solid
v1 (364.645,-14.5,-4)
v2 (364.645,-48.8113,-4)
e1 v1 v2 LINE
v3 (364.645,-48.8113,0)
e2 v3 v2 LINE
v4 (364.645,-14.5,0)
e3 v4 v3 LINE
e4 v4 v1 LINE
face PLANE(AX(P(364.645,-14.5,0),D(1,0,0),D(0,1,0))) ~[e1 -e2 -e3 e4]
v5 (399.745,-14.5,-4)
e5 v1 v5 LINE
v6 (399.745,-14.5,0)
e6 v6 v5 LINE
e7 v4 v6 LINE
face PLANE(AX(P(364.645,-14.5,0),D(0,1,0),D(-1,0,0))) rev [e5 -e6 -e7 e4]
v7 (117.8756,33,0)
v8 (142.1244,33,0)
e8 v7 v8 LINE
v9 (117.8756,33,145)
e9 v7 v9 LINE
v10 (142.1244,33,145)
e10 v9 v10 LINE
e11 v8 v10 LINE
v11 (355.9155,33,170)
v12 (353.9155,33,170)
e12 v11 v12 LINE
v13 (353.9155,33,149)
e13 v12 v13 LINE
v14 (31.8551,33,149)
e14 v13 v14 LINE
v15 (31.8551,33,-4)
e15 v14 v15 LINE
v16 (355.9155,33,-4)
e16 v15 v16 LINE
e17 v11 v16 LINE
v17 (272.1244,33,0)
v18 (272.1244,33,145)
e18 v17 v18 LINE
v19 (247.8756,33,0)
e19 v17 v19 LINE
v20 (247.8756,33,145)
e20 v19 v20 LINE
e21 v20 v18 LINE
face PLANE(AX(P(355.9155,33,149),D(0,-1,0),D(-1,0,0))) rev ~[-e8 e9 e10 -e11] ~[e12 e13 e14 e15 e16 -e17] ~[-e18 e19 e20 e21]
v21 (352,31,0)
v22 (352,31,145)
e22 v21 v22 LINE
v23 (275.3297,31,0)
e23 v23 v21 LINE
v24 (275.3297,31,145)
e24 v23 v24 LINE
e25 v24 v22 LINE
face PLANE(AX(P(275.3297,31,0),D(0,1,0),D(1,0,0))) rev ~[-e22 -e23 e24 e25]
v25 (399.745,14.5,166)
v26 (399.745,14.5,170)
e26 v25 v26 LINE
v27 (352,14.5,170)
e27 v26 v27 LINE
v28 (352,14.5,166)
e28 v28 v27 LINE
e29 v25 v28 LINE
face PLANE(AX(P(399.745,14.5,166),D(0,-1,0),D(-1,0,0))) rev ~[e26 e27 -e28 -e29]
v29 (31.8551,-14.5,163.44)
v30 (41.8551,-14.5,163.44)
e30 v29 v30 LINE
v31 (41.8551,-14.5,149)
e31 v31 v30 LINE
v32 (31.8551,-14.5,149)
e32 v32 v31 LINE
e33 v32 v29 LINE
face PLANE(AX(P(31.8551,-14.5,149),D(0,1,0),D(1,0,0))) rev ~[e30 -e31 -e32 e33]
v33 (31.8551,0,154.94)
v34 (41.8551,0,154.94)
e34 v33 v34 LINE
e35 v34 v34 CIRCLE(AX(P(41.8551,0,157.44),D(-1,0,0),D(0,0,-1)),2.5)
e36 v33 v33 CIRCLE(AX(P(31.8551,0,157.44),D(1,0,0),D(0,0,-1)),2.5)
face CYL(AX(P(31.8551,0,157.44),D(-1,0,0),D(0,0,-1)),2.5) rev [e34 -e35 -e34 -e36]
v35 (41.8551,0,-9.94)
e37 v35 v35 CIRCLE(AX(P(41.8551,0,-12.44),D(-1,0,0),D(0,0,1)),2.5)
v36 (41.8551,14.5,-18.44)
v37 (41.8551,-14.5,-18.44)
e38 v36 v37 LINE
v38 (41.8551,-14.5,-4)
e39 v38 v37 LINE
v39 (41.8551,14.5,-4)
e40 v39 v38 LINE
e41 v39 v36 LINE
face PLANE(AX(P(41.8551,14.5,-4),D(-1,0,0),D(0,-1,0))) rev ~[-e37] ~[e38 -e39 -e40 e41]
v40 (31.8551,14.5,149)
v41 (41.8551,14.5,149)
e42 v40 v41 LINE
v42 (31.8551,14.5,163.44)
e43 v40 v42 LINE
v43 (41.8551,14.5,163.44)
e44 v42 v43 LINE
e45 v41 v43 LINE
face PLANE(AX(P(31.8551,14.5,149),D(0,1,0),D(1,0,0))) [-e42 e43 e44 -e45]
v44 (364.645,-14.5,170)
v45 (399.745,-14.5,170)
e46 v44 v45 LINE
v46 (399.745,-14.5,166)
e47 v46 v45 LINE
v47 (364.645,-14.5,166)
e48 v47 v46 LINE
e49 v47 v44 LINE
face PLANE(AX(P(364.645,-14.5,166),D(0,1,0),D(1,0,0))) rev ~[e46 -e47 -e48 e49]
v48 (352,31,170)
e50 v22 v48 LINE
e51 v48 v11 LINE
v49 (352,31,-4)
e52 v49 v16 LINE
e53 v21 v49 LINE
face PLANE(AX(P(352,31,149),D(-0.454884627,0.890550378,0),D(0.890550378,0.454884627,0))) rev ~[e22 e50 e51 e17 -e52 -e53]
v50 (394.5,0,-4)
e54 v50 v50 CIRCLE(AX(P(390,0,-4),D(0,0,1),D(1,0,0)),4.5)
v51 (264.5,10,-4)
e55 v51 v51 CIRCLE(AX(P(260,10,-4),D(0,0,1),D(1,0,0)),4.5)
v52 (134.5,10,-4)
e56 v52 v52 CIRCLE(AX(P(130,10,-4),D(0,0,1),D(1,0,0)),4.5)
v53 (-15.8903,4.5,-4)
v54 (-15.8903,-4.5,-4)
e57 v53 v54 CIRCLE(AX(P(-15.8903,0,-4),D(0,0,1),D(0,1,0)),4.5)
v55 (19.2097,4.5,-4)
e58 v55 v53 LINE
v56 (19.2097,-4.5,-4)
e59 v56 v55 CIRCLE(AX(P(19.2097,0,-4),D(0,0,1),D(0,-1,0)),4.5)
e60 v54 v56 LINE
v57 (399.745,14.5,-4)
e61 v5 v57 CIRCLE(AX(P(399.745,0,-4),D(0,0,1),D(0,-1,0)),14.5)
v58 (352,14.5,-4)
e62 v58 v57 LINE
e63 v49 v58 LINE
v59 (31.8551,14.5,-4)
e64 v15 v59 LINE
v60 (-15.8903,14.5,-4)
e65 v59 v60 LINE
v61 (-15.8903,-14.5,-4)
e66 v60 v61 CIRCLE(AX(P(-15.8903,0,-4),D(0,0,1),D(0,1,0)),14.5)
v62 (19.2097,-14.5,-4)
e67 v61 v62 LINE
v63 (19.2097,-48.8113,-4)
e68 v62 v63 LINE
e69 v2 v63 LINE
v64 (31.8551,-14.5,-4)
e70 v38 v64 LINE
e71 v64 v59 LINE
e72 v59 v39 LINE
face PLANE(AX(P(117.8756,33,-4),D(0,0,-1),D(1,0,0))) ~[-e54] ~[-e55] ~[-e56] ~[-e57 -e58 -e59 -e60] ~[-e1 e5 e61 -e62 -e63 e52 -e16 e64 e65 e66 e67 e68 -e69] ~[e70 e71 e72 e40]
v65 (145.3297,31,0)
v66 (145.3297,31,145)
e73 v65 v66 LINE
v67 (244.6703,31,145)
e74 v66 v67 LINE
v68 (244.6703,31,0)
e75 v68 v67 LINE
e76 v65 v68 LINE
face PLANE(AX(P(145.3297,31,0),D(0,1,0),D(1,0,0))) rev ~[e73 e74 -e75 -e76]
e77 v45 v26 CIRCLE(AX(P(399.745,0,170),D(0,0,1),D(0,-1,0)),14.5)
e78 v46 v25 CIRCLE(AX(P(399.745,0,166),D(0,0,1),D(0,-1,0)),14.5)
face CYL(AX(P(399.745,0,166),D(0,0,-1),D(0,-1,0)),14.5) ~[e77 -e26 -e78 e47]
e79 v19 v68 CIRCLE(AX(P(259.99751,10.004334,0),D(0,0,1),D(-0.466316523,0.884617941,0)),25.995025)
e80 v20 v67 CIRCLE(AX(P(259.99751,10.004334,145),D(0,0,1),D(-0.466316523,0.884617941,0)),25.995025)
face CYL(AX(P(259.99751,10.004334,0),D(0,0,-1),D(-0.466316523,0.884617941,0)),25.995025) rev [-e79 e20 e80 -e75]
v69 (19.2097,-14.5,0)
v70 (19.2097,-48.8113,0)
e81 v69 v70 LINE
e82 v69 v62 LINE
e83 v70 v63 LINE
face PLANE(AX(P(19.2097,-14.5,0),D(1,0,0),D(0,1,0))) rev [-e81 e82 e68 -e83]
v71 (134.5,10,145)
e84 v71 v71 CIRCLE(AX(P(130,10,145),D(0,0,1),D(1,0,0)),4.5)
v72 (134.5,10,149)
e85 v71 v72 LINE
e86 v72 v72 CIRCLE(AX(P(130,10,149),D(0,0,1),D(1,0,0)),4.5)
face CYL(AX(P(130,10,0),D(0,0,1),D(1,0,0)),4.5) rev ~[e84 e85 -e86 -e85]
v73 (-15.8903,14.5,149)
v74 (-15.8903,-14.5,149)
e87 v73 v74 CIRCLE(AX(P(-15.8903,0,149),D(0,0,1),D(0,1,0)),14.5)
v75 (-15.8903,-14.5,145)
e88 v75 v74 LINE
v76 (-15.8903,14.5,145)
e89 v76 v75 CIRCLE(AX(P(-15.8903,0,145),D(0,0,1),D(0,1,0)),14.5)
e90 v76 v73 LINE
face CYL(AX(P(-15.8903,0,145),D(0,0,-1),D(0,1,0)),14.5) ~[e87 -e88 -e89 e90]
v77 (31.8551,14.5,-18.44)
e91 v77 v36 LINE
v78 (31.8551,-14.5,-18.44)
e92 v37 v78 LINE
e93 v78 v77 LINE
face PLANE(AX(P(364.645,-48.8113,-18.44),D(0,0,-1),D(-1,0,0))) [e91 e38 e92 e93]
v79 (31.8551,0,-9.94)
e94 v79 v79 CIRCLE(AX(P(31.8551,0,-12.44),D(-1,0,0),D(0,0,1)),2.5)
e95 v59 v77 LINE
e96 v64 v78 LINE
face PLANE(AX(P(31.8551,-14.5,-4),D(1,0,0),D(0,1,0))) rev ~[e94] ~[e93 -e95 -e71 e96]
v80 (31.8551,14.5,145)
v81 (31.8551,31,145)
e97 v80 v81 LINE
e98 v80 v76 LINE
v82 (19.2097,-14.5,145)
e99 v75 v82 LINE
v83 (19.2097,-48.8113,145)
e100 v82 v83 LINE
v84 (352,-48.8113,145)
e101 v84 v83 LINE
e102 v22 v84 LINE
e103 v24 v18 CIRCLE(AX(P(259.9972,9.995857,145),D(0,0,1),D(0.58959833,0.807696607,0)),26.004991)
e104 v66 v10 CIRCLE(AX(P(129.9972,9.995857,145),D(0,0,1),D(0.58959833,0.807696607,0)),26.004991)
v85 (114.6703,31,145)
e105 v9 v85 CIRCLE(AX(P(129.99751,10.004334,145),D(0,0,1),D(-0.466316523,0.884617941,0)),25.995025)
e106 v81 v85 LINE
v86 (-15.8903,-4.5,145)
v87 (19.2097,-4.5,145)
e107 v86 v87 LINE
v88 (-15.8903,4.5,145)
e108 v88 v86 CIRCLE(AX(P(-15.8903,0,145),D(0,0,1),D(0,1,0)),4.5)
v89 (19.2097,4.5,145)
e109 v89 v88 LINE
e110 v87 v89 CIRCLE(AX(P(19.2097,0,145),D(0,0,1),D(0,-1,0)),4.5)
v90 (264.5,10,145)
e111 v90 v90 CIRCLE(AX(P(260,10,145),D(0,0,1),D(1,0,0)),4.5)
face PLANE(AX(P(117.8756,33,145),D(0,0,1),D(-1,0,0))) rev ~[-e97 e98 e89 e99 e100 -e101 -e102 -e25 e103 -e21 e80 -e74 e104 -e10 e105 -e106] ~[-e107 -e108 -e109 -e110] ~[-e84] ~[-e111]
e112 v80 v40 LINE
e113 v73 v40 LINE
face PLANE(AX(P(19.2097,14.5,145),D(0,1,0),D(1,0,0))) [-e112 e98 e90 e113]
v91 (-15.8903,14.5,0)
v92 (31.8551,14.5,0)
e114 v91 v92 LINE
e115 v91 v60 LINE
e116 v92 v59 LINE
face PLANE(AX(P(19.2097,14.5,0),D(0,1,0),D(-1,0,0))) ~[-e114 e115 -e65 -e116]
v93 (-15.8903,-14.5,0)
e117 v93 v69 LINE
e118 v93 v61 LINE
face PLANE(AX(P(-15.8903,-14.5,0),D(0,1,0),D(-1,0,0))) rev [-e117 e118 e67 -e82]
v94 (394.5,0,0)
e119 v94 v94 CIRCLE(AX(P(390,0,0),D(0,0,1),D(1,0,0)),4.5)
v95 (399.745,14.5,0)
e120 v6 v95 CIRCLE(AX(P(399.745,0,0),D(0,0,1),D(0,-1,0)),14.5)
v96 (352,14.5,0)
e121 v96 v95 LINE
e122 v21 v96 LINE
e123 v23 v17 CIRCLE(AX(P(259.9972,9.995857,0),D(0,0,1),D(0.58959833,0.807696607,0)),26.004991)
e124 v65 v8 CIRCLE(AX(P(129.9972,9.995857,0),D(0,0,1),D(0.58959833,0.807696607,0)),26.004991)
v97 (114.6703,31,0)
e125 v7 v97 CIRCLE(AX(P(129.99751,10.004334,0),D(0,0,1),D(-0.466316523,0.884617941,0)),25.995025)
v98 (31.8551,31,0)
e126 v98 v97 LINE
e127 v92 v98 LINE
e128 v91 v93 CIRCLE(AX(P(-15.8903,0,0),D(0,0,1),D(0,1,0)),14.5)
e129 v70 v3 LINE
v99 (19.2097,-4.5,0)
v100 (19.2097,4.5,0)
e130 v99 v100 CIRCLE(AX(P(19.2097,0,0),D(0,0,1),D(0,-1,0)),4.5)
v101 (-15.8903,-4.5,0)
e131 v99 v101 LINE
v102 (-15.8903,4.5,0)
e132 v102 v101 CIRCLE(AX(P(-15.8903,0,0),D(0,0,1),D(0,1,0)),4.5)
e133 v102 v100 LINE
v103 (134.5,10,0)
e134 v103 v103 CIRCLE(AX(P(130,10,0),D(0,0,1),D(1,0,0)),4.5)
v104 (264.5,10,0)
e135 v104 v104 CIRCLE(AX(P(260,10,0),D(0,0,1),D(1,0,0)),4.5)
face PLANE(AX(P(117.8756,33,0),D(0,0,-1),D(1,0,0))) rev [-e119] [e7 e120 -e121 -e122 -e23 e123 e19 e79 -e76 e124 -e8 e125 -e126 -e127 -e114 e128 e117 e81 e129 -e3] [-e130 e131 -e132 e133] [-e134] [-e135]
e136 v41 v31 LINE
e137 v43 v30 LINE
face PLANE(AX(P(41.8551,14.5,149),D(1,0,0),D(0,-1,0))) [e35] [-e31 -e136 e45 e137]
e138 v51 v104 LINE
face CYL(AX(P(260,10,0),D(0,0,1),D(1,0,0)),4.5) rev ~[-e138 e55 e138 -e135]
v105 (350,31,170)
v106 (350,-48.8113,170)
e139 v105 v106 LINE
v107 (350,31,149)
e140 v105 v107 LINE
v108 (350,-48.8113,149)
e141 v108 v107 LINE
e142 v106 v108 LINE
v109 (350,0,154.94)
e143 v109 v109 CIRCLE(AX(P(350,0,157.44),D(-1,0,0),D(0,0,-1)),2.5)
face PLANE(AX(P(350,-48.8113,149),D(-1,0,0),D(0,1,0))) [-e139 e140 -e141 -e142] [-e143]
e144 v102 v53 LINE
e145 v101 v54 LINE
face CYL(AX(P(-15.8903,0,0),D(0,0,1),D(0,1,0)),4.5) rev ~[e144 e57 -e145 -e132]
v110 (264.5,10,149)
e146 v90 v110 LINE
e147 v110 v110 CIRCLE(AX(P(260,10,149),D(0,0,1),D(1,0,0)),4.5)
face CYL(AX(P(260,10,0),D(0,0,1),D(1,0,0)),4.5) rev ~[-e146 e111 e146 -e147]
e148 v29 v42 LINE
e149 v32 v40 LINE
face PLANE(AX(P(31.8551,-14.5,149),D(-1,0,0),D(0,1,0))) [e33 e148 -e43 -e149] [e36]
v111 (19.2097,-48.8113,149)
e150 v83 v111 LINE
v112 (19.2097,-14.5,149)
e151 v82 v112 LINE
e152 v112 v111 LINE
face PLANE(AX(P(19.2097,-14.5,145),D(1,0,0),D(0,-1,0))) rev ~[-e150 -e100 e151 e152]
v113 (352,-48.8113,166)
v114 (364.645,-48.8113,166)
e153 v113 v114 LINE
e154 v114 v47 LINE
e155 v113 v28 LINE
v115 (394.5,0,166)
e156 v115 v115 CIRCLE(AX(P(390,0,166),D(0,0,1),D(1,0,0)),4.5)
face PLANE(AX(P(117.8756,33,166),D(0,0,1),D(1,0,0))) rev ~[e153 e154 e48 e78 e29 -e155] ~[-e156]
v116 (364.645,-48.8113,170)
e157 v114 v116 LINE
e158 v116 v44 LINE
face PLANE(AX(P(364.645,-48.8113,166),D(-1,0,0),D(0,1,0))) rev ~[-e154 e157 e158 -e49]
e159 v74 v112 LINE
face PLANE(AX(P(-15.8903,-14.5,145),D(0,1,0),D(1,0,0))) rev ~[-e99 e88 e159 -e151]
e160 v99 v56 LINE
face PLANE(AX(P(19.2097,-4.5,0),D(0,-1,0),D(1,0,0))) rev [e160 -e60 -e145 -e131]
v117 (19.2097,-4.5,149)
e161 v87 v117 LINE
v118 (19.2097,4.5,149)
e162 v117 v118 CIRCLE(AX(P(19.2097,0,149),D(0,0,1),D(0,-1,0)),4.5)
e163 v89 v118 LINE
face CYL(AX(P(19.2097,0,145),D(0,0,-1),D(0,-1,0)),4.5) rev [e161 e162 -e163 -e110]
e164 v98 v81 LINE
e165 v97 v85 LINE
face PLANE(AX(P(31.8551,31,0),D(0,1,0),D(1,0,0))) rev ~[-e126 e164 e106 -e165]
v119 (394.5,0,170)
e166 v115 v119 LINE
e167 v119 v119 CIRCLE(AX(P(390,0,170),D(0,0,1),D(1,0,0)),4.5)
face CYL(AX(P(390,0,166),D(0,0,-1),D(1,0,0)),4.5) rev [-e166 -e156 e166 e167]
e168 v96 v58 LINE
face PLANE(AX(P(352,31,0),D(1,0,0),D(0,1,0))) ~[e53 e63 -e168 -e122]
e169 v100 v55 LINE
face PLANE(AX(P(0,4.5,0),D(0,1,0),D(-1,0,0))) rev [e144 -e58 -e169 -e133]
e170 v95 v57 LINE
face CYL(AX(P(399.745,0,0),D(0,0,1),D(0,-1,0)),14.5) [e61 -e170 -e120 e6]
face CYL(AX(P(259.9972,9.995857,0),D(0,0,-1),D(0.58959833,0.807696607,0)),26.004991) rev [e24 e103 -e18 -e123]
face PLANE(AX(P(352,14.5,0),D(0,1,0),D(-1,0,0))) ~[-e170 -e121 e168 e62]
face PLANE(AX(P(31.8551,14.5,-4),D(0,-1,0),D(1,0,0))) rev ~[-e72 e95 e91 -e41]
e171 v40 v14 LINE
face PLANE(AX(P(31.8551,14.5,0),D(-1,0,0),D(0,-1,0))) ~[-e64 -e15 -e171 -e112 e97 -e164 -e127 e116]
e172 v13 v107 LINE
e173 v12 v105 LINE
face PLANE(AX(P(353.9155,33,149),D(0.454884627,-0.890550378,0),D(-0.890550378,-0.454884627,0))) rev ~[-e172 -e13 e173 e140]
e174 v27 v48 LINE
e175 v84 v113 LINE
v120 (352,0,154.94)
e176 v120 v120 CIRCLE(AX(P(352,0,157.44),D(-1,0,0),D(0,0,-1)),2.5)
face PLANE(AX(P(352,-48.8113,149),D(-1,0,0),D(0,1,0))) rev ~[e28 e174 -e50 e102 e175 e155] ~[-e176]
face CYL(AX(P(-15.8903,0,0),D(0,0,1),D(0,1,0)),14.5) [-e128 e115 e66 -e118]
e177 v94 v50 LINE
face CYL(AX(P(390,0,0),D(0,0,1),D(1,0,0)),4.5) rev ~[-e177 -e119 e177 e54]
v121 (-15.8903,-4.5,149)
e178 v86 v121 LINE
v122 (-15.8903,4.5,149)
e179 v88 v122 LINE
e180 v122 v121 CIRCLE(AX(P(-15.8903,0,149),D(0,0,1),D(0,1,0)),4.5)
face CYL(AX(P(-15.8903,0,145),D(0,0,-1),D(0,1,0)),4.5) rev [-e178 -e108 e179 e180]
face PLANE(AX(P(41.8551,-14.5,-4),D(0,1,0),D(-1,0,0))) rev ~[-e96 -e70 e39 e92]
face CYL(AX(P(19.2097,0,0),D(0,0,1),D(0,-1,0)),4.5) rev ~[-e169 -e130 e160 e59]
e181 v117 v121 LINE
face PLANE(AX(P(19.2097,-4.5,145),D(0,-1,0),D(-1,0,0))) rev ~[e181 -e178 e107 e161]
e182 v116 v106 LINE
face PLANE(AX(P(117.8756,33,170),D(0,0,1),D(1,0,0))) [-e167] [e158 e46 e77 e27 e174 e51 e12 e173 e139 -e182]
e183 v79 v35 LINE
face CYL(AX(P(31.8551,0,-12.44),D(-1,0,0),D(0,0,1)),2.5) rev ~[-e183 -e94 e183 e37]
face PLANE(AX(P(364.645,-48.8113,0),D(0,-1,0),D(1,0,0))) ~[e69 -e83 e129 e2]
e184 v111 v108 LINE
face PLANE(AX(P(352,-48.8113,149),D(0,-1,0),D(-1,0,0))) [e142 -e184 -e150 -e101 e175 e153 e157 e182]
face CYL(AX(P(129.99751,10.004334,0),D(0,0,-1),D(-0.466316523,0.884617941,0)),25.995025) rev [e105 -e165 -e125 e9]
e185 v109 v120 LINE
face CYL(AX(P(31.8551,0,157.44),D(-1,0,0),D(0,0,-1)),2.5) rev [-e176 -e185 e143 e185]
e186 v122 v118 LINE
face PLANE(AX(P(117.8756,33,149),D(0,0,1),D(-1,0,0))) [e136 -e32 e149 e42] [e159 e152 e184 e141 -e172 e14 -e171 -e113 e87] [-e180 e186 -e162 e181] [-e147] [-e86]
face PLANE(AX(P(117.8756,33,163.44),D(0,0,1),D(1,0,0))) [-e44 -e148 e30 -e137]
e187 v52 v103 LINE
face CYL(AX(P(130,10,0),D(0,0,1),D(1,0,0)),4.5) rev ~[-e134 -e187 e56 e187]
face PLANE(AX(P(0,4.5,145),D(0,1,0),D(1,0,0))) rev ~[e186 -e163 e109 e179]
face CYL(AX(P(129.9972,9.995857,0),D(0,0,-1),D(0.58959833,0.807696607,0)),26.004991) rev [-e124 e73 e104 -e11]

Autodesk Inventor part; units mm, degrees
sketch "Szkic1" plane through (0, 0, 0) normal (0, 0, 1) x (1, 0, 0)
  arc A0 (0, 35) -> (0, -35) centre (0, 0) ccw construction
  line L0 (0, 35) -> (390, 35) construction
  line L1 (0, -35) -> (390, -35) construction
  arc A1 (390, -35) -> (390, 35) centre (390, 0) ccw construction
  circle A2 centre (0, 0) radius 4.5
  circle A3 centre (390, 0) radius 4.5
  line L2 (130, 35) -> (130, 10) construction
  line L3 (260, 35) -> (260, 10) construction
  circle A4 centre (130, 10) radius 25 construction
  circle A5 centre (260, 10) radius 25 construction
  circle A6 centre (130, 10) radius 4.5
  circle A7 centre (260, 10) radius 4.5
  circle A8 centre (0, 0) radius 35 construction
  circle A9 centre (390, 0) radius 35 construction
  line L4 (117.8756, 33) -> (31.8551, 33)
  line L5 (375.6125, 33) -> (272.1244, 33)
  line L6 (247.8756, 33) -> (142.1244, 33)
  line L7 (31.8551, 31) -> (114.6703, 31)
  line L8 (145.3297, 31) -> (244.6703, 31)
  line L9 (275.3297, 31) -> (371.697, 31)
  arc A10 (375.6125, 33) -> (371.697, 31) centre (390, 0) ccw
  arc A11 (117.8756, 33) -> (114.6703, 31) centre (130, 10) ccw
  arc A12 (145.3297, 31) -> (142.1244, 33) centre (130, 10) ccw
  arc A13 (247.8756, 33) -> (244.6703, 31) centre (260, 10) ccw
  arc A14 (275.3297, 31) -> (272.1244, 33) centre (260, 10) ccw
  line L10 (31.8551, 14.5) -> (31.8551, 35) construction
  line L11 (31.8551, 33) -> (31.8551, 31)
  line L12 (260, 10) -> (260, 0)
  line L13 (130, 10) -> (130, 0)
  point P0 (423.5971, -9.8098)
  dimension "d94" = 50
  dimension "d0" = 70
  dimension "d1" = 390
  dimension "d2" = 390
  dimension "d3" = 70
  dimension "d4" = 9
  dimension "d5" = 9
  dimension "d10" = 25
  dimension "d11" = 25
  dimension "d12" = 9
  dimension "d13" = 9
  dimension "d14" = 130
  dimension "d15" = 260
  dimension "d24" = 2
  dimension "d25" = 2
  dimension "d26" = 2
  dimension "d27" = 1
  dimension "d95" = 2
extrude "Wyciągnięcie proste1" add sketch "Szkic1" along normal blind 145 contours A11 L7 L11 L4 | A10 L9 A14 L5 | A13 L8 A12 L6
ref_plane "Płaszczyzna konstrukcyjna1" through (117.8756, 33, 145) normal (0, 0, 1) x (-1, 0, 0)
sketch "Szkic3" plane through (117.8756, 33, 145) normal (0, 0, 1) x (-1, 0, 0)
  circle A0 centre (117.8756, 33) radius 4.5 projected
  arc A1 (133.7659, 28.5) -> (133.7659, 37.5) centre (133.7659, 33) ccw
  arc A2 (98.6659, 37.5) -> (98.6659, 28.5) centre (98.6659, 33) ccw
  line L0 (133.7659, 28.5) -> (98.6659, 28.5)
  line L1 (98.6659, 37.5) -> (133.7659, 37.5)
  line L2 (98.6659, 18.5) -> (133.7659, 18.5)
  arc A3 (133.7659, 18.5) -> (133.7659, 47.5) centre (133.7659, 33) ccw
  line L3 (133.7659, 47.5) -> (98.6659, 47.5)
  line L4 (86.0205, 18.5) -> (86.0205, -2) construction
  line L5 (98.6659, 18.5) -> (86.0205, 18.5)
  line L6 (98.6659, 47.5) -> (86.0205, 47.5)
  line L7 (86.0205, 0) -> (86.0205, 2) projected
  line L8 (86.0205, 18.5) -> (86.0205, 0)
  line L9 (98.6659, 47.5) -> (98.6659, 81.8113)
  line L10 (98.6659, 81.8113) -> (-234.1244, 81.8113)
  line L11 (-157.4541, 2) -> (-253.8214, 2) projected
  line L12 (86.0205, 0) -> (86.0205, 2)
  line L13 (-257.7369, 0) -> (-154.2487, 0) projected
  line L14 (86.0205, 0) -> (-238.0399, 0)
  circle A4 centre (-272.1244, 33) radius 35 construction
  line L15 (-234.1244, 2) -> (-234.1244, 18.5)
  line L16 (-234.1244, 2) -> (-238.0399, 0)
  line L17 (-246.7694, 47.5) -> (-246.7694, 81.8113)
  line L18 (-246.7694, 81.8113) -> (-234.1244, 81.8113)
  line L19 (-303.9795, 47.5) -> (-409.6259, 47.5) construction
  line L20 (-234.1244, 47.5) -> (-246.7694, 47.5)
  line L21 (-234.1244, 18.5) -> (-281.8694, 18.5)
  line L22 (-246.7694, 47.5) -> (-281.8694, 47.5)
  arc A5 (-281.8694, 47.5) -> (-281.8694, 18.5) centre (-281.8694, 33) ccw
  point P0 (-238.0399, 0)
  dimension "d33" = 9
  dimension "d34" = 9
  dimension "d35" = 10
  dimension "d36" = 47.7454
  dimension "d37" = 12.6455
  dimension "d38" = 12.6455
  dimension "d39" = 12.6455
  dimension "d40" = 0
  dimension "d64" = 47.745
  dimension "d93" = 16.5
extrude "Wyciągnięcie proste2" add sketch "Szkic3" along normal blind 4
ref_plane "Płaszczyzna konstrukcyjna4" through (117.8756, 33, 72.5) normal (0, 0, -1) x (-1, 0, 0)
mirror "Odbij2" about plane through (117.8756, 33, 72.5) normal (0, 0, -1) of "Wyciągnięcie proste2"
extrude "Wyciągnięcie proste4" cut sketch "Szkic1" along normal mid plane 10000 contours A6 | A7
sketch "Szkic8" plane through (0, 0, 145) normal (0, 0, 1) x (1, 0, 0)
  line L0 (352, 31) -> (371.697, 31) projected
  line L1 (352, 31) -> (355.9155, 33) projected
  line L2 (352, 31) -> (355.9155, 33)
  line L3 (375.6125, 33) -> (355.9155, 33) projected
  line L4 (355.9155, 33) -> (375.6125, 33)
  arc A0 (375.6125, 33) -> (371.697, 31) centre (390, 0) ccw projected
  line L5 (375.6125, 33) -> (371.697, 31)
  line L6 (352, 14.5) -> (352, 31) projected
  line L7 (371.697, 31) -> (352, 31)
  point P0 (0, 0)
  point P1 (352, -48.8113)
ref_plane "Płaszczyzna konstrukcyjna6" through (0, 0, 72.5) normal (0, 0, 1) x (1, 0, 0)
extrude "Wyciągnięcie proste5" cut sketch "Szkic8" along normal mid plane 1000 contours L1 L3 A0 L0
ref_plane "Płaszczyzna konstrukcyjna9" through (117.8756, 33, 149) normal (0, 0, 1) x (1, 0, 0)
sketch "Szkic12" plane through (117.8756, 33, 149) normal (0, 0, 1) x (1, 0, 0)
  line L0 (281.8694, -18.5) -> (234.1244, -18.5) projected
  arc A0 (281.8694, -47.5) -> (281.8694, -18.5) centre (281.8694, -33) ccw projected
  line L1 (246.7694, -47.5) -> (281.8694, -47.5) projected
  line L2 (246.7694, -81.8113) -> (246.7694, -47.5) projected
  line L3 (234.1244, -2) -> (234.1244, -81.8113) projected
  line L4 (-98.6659, -81.8113) -> (246.7694, -81.8113) projected
  point P0 (-117.8756, -33)
extrude "Wyciągnięcie proste7" cut sketch "Szkic12" against normal blind 17
extrude "Wyciągnięcie proste8" cut sketch "Szkic1" against normal blind 17 contours A3
ref_plane "Płaszczyzna konstrukcyjna10" through (117.8756, 33, 149) normal (0, 0, 1) x (1, 0, 0)
sketch "Szkic13" plane through (117.8756, 33, 149) normal (0, 0, 1) x (1, 0, 0)
  line L0 (234.1244, -81.8113) -> (234.1244, -2) projected
  line L1 (232.1244, -81.8113) -> (232.1244, -2)
  line L2 (234.1244, -2) -> (238.0399, 0) projected
  line L3 (238.0399, 0) -> (236.0399, 0)
  line L4 (238.0399, 0) -> (-86.0205, 0) projected
  line L5 (236.0399, 0) -> (232.1244, -2)
  line L6 (238.0399, 0) -> (234.1244, -2)
  line L7 (234.1244, -81.8113) -> (232.1244, -81.8113)
  line L8 (-98.6659, -81.8113) -> (246.7694, -81.8113) projected
  point P0 (-117.8756, -33)
  dimension "d70" = 2
  dimension "d71" = 2
extrude "Wyciągnięcie proste9" add sketch "Szkic13" along normal blind 17
ref_plane "Płaszczyzna konstrukcyjna11" through (117.8756, 33, 166) normal (0, 0, 1) x (1, 0, 0)
sketch "Szkic14" plane through (117.8756, 33, 166) normal (0, 0, 1) x (1, 0, 0)
  line L0 (232.1244, -81.8113) -> (234.1244, -81.8113) projected
  line L1 (-98.6659, -81.8113) -> (246.7694, -81.8113) projected
  line L2 (232.1244, -81.8113) -> (246.7694, -81.8113)
  line L3 (246.7694, -81.8113) -> (246.7694, -47.5) projected
  line L4 (246.7694, -81.8113) -> (246.7694, -47.5)
  line L5 (246.7694, -47.5) -> (281.8694, -47.5) projected
  line L6 (246.7694, -47.5) -> (281.8694, -47.5)
  line L7 (281.8694, -18.5) -> (234.1244, -18.5) projected
  line L8 (234.1244, -81.8113) -> (234.1244, -2) projected
  arc A0 (281.8694, -47.5) -> (281.8694, -18.5) centre (281.8694, -33) ccw projected
  circle A1 centre (272.1244, -33) radius 4.5 projected
  line L9 (232.1244, -2) -> (232.1244, -81.8113) projected
  line L10 (236.0399, 0) -> (232.1244, -2) projected
  line L11 (238.0399, 0) -> (236.0399, 0) projected
  line L12 (234.1244, -2) -> (238.0399, 0) projected
  point P0 (-117.8756, -33)
extrude "Wyciągnięcie proste10" add sketch "Szkic14" along normal blind 4
ref_plane "Płaszczyzna konstrukcyjna12" through (364.645, -48.8113, -4) normal (0, 0, -1) x (-1, 0, 0)
sketch "Szkic15" plane through (364.645, -48.8113, -4) normal (0, 0, -1) x (-1, 0, 0)
  line L0 (332.7899, 63.3113) -> (322.7899, 63.3113)
  line L1 (322.7899, 63.3113) -> (322.7899, 34.3113)
  line L2 (322.7899, 34.3113) -> (332.7899, 34.3113)
  line L3 (332.7899, 34.3113) -> (332.7899, 63.3113)
  point P0 (364.645, 48.8113)
  dimension "d78" = 10
extrude "Wyciągnięcie proste11" add sketch "Szkic15" along normal blind 14.44
ref_plane "Płaszczyzna konstrukcyjna13" through (117.8756, 33, 149) normal (0, 0, 1) x (1, 0, 0)
sketch "Szkic16" plane through (117.8756, 33, 149) normal (0, 0, 1) x (1, 0, 0)
  line L0 (-86.0205, -18.5) -> (-133.7659, -18.5) projected
  line L1 (-86.0205, -47.5) -> (-76.0205, -47.5) projected
  line L2 (-86.0205, -18.5) -> (-76.0205, -18.5)
  line L3 (-76.0205, -18.5) -> (-76.0205, -47.5)
  line L4 (-76.0205, -47.5) -> (-86.0205, -47.5)
  line L5 (-86.0205, -47.5) -> (-86.0205, -18.5)
  point P0 (-117.8756, -33)
  point P1 (-86.0205, -47.5)
  dimension "d82" = 10
extrude "Wyciągnięcie proste12" add sketch "Szkic16" along normal blind 14.44
ref_plane "Płaszczyzna konstrukcyjna14" through (31.8551, -14.5, -4) normal (-1, 0, 0) x (0, 0, 1)
sketch "Szkic17" plane through (31.8551, -14.5, -4) normal (-1, 0, 0) x (0, 0, 1)
  line L0 (4, 0) -> (4, 29) projected
  line L1 (4, 19) -> (-14.44, 19)
  line L2 (-14.44, 29) -> (-14.44, 0) projected
  line L3 (4, 10) -> (0, 10) projected
  line L4 (4, 10) -> (-12.44, 10)
  line L5 (4, 18.5) -> (-12.44, 18.5)
  line L6 (-12.44, 18.5) -> (-4.44, 18.5)
  line L7 (-4.44, 18.5) -> (-4.44, 10.5)
  line L8 (-4.44, 10.5) -> (-12.44, 10.5)
  line L9 (-12.44, 10.5) -> (-12.44, 18.5)
  circle A0 centre (-8.44, 14.5) radius 2.5
  point P0 (4, 14.5)
  dimension "d86" = 9
  dimension "d87" = 0.5
  dimension "d88" = 8
  dimension "d89" = 8
  dimension "d90" = 5
extrude "Wyciągnięcie proste13" cut sketch "Szkic17" against normal through all contours A0
mirror "Odbij3" about plane through (117.8756, 33, 72.5) normal (0, 0, -1) of "Wyciągnięcie proste13"
sketch "Szkic20" plane through (117.8756, 33, 72.5) normal (0, 0, 1) x (-1, 0, 0)
  point P0 (117.8756, -33)
ref_plane "Płaszczyzna konstrukcyjna5" through (117.8756, 33, 72.5) normal (0, 0, -1) x (-1, 0, 0)
properties part number "Podstawa"
